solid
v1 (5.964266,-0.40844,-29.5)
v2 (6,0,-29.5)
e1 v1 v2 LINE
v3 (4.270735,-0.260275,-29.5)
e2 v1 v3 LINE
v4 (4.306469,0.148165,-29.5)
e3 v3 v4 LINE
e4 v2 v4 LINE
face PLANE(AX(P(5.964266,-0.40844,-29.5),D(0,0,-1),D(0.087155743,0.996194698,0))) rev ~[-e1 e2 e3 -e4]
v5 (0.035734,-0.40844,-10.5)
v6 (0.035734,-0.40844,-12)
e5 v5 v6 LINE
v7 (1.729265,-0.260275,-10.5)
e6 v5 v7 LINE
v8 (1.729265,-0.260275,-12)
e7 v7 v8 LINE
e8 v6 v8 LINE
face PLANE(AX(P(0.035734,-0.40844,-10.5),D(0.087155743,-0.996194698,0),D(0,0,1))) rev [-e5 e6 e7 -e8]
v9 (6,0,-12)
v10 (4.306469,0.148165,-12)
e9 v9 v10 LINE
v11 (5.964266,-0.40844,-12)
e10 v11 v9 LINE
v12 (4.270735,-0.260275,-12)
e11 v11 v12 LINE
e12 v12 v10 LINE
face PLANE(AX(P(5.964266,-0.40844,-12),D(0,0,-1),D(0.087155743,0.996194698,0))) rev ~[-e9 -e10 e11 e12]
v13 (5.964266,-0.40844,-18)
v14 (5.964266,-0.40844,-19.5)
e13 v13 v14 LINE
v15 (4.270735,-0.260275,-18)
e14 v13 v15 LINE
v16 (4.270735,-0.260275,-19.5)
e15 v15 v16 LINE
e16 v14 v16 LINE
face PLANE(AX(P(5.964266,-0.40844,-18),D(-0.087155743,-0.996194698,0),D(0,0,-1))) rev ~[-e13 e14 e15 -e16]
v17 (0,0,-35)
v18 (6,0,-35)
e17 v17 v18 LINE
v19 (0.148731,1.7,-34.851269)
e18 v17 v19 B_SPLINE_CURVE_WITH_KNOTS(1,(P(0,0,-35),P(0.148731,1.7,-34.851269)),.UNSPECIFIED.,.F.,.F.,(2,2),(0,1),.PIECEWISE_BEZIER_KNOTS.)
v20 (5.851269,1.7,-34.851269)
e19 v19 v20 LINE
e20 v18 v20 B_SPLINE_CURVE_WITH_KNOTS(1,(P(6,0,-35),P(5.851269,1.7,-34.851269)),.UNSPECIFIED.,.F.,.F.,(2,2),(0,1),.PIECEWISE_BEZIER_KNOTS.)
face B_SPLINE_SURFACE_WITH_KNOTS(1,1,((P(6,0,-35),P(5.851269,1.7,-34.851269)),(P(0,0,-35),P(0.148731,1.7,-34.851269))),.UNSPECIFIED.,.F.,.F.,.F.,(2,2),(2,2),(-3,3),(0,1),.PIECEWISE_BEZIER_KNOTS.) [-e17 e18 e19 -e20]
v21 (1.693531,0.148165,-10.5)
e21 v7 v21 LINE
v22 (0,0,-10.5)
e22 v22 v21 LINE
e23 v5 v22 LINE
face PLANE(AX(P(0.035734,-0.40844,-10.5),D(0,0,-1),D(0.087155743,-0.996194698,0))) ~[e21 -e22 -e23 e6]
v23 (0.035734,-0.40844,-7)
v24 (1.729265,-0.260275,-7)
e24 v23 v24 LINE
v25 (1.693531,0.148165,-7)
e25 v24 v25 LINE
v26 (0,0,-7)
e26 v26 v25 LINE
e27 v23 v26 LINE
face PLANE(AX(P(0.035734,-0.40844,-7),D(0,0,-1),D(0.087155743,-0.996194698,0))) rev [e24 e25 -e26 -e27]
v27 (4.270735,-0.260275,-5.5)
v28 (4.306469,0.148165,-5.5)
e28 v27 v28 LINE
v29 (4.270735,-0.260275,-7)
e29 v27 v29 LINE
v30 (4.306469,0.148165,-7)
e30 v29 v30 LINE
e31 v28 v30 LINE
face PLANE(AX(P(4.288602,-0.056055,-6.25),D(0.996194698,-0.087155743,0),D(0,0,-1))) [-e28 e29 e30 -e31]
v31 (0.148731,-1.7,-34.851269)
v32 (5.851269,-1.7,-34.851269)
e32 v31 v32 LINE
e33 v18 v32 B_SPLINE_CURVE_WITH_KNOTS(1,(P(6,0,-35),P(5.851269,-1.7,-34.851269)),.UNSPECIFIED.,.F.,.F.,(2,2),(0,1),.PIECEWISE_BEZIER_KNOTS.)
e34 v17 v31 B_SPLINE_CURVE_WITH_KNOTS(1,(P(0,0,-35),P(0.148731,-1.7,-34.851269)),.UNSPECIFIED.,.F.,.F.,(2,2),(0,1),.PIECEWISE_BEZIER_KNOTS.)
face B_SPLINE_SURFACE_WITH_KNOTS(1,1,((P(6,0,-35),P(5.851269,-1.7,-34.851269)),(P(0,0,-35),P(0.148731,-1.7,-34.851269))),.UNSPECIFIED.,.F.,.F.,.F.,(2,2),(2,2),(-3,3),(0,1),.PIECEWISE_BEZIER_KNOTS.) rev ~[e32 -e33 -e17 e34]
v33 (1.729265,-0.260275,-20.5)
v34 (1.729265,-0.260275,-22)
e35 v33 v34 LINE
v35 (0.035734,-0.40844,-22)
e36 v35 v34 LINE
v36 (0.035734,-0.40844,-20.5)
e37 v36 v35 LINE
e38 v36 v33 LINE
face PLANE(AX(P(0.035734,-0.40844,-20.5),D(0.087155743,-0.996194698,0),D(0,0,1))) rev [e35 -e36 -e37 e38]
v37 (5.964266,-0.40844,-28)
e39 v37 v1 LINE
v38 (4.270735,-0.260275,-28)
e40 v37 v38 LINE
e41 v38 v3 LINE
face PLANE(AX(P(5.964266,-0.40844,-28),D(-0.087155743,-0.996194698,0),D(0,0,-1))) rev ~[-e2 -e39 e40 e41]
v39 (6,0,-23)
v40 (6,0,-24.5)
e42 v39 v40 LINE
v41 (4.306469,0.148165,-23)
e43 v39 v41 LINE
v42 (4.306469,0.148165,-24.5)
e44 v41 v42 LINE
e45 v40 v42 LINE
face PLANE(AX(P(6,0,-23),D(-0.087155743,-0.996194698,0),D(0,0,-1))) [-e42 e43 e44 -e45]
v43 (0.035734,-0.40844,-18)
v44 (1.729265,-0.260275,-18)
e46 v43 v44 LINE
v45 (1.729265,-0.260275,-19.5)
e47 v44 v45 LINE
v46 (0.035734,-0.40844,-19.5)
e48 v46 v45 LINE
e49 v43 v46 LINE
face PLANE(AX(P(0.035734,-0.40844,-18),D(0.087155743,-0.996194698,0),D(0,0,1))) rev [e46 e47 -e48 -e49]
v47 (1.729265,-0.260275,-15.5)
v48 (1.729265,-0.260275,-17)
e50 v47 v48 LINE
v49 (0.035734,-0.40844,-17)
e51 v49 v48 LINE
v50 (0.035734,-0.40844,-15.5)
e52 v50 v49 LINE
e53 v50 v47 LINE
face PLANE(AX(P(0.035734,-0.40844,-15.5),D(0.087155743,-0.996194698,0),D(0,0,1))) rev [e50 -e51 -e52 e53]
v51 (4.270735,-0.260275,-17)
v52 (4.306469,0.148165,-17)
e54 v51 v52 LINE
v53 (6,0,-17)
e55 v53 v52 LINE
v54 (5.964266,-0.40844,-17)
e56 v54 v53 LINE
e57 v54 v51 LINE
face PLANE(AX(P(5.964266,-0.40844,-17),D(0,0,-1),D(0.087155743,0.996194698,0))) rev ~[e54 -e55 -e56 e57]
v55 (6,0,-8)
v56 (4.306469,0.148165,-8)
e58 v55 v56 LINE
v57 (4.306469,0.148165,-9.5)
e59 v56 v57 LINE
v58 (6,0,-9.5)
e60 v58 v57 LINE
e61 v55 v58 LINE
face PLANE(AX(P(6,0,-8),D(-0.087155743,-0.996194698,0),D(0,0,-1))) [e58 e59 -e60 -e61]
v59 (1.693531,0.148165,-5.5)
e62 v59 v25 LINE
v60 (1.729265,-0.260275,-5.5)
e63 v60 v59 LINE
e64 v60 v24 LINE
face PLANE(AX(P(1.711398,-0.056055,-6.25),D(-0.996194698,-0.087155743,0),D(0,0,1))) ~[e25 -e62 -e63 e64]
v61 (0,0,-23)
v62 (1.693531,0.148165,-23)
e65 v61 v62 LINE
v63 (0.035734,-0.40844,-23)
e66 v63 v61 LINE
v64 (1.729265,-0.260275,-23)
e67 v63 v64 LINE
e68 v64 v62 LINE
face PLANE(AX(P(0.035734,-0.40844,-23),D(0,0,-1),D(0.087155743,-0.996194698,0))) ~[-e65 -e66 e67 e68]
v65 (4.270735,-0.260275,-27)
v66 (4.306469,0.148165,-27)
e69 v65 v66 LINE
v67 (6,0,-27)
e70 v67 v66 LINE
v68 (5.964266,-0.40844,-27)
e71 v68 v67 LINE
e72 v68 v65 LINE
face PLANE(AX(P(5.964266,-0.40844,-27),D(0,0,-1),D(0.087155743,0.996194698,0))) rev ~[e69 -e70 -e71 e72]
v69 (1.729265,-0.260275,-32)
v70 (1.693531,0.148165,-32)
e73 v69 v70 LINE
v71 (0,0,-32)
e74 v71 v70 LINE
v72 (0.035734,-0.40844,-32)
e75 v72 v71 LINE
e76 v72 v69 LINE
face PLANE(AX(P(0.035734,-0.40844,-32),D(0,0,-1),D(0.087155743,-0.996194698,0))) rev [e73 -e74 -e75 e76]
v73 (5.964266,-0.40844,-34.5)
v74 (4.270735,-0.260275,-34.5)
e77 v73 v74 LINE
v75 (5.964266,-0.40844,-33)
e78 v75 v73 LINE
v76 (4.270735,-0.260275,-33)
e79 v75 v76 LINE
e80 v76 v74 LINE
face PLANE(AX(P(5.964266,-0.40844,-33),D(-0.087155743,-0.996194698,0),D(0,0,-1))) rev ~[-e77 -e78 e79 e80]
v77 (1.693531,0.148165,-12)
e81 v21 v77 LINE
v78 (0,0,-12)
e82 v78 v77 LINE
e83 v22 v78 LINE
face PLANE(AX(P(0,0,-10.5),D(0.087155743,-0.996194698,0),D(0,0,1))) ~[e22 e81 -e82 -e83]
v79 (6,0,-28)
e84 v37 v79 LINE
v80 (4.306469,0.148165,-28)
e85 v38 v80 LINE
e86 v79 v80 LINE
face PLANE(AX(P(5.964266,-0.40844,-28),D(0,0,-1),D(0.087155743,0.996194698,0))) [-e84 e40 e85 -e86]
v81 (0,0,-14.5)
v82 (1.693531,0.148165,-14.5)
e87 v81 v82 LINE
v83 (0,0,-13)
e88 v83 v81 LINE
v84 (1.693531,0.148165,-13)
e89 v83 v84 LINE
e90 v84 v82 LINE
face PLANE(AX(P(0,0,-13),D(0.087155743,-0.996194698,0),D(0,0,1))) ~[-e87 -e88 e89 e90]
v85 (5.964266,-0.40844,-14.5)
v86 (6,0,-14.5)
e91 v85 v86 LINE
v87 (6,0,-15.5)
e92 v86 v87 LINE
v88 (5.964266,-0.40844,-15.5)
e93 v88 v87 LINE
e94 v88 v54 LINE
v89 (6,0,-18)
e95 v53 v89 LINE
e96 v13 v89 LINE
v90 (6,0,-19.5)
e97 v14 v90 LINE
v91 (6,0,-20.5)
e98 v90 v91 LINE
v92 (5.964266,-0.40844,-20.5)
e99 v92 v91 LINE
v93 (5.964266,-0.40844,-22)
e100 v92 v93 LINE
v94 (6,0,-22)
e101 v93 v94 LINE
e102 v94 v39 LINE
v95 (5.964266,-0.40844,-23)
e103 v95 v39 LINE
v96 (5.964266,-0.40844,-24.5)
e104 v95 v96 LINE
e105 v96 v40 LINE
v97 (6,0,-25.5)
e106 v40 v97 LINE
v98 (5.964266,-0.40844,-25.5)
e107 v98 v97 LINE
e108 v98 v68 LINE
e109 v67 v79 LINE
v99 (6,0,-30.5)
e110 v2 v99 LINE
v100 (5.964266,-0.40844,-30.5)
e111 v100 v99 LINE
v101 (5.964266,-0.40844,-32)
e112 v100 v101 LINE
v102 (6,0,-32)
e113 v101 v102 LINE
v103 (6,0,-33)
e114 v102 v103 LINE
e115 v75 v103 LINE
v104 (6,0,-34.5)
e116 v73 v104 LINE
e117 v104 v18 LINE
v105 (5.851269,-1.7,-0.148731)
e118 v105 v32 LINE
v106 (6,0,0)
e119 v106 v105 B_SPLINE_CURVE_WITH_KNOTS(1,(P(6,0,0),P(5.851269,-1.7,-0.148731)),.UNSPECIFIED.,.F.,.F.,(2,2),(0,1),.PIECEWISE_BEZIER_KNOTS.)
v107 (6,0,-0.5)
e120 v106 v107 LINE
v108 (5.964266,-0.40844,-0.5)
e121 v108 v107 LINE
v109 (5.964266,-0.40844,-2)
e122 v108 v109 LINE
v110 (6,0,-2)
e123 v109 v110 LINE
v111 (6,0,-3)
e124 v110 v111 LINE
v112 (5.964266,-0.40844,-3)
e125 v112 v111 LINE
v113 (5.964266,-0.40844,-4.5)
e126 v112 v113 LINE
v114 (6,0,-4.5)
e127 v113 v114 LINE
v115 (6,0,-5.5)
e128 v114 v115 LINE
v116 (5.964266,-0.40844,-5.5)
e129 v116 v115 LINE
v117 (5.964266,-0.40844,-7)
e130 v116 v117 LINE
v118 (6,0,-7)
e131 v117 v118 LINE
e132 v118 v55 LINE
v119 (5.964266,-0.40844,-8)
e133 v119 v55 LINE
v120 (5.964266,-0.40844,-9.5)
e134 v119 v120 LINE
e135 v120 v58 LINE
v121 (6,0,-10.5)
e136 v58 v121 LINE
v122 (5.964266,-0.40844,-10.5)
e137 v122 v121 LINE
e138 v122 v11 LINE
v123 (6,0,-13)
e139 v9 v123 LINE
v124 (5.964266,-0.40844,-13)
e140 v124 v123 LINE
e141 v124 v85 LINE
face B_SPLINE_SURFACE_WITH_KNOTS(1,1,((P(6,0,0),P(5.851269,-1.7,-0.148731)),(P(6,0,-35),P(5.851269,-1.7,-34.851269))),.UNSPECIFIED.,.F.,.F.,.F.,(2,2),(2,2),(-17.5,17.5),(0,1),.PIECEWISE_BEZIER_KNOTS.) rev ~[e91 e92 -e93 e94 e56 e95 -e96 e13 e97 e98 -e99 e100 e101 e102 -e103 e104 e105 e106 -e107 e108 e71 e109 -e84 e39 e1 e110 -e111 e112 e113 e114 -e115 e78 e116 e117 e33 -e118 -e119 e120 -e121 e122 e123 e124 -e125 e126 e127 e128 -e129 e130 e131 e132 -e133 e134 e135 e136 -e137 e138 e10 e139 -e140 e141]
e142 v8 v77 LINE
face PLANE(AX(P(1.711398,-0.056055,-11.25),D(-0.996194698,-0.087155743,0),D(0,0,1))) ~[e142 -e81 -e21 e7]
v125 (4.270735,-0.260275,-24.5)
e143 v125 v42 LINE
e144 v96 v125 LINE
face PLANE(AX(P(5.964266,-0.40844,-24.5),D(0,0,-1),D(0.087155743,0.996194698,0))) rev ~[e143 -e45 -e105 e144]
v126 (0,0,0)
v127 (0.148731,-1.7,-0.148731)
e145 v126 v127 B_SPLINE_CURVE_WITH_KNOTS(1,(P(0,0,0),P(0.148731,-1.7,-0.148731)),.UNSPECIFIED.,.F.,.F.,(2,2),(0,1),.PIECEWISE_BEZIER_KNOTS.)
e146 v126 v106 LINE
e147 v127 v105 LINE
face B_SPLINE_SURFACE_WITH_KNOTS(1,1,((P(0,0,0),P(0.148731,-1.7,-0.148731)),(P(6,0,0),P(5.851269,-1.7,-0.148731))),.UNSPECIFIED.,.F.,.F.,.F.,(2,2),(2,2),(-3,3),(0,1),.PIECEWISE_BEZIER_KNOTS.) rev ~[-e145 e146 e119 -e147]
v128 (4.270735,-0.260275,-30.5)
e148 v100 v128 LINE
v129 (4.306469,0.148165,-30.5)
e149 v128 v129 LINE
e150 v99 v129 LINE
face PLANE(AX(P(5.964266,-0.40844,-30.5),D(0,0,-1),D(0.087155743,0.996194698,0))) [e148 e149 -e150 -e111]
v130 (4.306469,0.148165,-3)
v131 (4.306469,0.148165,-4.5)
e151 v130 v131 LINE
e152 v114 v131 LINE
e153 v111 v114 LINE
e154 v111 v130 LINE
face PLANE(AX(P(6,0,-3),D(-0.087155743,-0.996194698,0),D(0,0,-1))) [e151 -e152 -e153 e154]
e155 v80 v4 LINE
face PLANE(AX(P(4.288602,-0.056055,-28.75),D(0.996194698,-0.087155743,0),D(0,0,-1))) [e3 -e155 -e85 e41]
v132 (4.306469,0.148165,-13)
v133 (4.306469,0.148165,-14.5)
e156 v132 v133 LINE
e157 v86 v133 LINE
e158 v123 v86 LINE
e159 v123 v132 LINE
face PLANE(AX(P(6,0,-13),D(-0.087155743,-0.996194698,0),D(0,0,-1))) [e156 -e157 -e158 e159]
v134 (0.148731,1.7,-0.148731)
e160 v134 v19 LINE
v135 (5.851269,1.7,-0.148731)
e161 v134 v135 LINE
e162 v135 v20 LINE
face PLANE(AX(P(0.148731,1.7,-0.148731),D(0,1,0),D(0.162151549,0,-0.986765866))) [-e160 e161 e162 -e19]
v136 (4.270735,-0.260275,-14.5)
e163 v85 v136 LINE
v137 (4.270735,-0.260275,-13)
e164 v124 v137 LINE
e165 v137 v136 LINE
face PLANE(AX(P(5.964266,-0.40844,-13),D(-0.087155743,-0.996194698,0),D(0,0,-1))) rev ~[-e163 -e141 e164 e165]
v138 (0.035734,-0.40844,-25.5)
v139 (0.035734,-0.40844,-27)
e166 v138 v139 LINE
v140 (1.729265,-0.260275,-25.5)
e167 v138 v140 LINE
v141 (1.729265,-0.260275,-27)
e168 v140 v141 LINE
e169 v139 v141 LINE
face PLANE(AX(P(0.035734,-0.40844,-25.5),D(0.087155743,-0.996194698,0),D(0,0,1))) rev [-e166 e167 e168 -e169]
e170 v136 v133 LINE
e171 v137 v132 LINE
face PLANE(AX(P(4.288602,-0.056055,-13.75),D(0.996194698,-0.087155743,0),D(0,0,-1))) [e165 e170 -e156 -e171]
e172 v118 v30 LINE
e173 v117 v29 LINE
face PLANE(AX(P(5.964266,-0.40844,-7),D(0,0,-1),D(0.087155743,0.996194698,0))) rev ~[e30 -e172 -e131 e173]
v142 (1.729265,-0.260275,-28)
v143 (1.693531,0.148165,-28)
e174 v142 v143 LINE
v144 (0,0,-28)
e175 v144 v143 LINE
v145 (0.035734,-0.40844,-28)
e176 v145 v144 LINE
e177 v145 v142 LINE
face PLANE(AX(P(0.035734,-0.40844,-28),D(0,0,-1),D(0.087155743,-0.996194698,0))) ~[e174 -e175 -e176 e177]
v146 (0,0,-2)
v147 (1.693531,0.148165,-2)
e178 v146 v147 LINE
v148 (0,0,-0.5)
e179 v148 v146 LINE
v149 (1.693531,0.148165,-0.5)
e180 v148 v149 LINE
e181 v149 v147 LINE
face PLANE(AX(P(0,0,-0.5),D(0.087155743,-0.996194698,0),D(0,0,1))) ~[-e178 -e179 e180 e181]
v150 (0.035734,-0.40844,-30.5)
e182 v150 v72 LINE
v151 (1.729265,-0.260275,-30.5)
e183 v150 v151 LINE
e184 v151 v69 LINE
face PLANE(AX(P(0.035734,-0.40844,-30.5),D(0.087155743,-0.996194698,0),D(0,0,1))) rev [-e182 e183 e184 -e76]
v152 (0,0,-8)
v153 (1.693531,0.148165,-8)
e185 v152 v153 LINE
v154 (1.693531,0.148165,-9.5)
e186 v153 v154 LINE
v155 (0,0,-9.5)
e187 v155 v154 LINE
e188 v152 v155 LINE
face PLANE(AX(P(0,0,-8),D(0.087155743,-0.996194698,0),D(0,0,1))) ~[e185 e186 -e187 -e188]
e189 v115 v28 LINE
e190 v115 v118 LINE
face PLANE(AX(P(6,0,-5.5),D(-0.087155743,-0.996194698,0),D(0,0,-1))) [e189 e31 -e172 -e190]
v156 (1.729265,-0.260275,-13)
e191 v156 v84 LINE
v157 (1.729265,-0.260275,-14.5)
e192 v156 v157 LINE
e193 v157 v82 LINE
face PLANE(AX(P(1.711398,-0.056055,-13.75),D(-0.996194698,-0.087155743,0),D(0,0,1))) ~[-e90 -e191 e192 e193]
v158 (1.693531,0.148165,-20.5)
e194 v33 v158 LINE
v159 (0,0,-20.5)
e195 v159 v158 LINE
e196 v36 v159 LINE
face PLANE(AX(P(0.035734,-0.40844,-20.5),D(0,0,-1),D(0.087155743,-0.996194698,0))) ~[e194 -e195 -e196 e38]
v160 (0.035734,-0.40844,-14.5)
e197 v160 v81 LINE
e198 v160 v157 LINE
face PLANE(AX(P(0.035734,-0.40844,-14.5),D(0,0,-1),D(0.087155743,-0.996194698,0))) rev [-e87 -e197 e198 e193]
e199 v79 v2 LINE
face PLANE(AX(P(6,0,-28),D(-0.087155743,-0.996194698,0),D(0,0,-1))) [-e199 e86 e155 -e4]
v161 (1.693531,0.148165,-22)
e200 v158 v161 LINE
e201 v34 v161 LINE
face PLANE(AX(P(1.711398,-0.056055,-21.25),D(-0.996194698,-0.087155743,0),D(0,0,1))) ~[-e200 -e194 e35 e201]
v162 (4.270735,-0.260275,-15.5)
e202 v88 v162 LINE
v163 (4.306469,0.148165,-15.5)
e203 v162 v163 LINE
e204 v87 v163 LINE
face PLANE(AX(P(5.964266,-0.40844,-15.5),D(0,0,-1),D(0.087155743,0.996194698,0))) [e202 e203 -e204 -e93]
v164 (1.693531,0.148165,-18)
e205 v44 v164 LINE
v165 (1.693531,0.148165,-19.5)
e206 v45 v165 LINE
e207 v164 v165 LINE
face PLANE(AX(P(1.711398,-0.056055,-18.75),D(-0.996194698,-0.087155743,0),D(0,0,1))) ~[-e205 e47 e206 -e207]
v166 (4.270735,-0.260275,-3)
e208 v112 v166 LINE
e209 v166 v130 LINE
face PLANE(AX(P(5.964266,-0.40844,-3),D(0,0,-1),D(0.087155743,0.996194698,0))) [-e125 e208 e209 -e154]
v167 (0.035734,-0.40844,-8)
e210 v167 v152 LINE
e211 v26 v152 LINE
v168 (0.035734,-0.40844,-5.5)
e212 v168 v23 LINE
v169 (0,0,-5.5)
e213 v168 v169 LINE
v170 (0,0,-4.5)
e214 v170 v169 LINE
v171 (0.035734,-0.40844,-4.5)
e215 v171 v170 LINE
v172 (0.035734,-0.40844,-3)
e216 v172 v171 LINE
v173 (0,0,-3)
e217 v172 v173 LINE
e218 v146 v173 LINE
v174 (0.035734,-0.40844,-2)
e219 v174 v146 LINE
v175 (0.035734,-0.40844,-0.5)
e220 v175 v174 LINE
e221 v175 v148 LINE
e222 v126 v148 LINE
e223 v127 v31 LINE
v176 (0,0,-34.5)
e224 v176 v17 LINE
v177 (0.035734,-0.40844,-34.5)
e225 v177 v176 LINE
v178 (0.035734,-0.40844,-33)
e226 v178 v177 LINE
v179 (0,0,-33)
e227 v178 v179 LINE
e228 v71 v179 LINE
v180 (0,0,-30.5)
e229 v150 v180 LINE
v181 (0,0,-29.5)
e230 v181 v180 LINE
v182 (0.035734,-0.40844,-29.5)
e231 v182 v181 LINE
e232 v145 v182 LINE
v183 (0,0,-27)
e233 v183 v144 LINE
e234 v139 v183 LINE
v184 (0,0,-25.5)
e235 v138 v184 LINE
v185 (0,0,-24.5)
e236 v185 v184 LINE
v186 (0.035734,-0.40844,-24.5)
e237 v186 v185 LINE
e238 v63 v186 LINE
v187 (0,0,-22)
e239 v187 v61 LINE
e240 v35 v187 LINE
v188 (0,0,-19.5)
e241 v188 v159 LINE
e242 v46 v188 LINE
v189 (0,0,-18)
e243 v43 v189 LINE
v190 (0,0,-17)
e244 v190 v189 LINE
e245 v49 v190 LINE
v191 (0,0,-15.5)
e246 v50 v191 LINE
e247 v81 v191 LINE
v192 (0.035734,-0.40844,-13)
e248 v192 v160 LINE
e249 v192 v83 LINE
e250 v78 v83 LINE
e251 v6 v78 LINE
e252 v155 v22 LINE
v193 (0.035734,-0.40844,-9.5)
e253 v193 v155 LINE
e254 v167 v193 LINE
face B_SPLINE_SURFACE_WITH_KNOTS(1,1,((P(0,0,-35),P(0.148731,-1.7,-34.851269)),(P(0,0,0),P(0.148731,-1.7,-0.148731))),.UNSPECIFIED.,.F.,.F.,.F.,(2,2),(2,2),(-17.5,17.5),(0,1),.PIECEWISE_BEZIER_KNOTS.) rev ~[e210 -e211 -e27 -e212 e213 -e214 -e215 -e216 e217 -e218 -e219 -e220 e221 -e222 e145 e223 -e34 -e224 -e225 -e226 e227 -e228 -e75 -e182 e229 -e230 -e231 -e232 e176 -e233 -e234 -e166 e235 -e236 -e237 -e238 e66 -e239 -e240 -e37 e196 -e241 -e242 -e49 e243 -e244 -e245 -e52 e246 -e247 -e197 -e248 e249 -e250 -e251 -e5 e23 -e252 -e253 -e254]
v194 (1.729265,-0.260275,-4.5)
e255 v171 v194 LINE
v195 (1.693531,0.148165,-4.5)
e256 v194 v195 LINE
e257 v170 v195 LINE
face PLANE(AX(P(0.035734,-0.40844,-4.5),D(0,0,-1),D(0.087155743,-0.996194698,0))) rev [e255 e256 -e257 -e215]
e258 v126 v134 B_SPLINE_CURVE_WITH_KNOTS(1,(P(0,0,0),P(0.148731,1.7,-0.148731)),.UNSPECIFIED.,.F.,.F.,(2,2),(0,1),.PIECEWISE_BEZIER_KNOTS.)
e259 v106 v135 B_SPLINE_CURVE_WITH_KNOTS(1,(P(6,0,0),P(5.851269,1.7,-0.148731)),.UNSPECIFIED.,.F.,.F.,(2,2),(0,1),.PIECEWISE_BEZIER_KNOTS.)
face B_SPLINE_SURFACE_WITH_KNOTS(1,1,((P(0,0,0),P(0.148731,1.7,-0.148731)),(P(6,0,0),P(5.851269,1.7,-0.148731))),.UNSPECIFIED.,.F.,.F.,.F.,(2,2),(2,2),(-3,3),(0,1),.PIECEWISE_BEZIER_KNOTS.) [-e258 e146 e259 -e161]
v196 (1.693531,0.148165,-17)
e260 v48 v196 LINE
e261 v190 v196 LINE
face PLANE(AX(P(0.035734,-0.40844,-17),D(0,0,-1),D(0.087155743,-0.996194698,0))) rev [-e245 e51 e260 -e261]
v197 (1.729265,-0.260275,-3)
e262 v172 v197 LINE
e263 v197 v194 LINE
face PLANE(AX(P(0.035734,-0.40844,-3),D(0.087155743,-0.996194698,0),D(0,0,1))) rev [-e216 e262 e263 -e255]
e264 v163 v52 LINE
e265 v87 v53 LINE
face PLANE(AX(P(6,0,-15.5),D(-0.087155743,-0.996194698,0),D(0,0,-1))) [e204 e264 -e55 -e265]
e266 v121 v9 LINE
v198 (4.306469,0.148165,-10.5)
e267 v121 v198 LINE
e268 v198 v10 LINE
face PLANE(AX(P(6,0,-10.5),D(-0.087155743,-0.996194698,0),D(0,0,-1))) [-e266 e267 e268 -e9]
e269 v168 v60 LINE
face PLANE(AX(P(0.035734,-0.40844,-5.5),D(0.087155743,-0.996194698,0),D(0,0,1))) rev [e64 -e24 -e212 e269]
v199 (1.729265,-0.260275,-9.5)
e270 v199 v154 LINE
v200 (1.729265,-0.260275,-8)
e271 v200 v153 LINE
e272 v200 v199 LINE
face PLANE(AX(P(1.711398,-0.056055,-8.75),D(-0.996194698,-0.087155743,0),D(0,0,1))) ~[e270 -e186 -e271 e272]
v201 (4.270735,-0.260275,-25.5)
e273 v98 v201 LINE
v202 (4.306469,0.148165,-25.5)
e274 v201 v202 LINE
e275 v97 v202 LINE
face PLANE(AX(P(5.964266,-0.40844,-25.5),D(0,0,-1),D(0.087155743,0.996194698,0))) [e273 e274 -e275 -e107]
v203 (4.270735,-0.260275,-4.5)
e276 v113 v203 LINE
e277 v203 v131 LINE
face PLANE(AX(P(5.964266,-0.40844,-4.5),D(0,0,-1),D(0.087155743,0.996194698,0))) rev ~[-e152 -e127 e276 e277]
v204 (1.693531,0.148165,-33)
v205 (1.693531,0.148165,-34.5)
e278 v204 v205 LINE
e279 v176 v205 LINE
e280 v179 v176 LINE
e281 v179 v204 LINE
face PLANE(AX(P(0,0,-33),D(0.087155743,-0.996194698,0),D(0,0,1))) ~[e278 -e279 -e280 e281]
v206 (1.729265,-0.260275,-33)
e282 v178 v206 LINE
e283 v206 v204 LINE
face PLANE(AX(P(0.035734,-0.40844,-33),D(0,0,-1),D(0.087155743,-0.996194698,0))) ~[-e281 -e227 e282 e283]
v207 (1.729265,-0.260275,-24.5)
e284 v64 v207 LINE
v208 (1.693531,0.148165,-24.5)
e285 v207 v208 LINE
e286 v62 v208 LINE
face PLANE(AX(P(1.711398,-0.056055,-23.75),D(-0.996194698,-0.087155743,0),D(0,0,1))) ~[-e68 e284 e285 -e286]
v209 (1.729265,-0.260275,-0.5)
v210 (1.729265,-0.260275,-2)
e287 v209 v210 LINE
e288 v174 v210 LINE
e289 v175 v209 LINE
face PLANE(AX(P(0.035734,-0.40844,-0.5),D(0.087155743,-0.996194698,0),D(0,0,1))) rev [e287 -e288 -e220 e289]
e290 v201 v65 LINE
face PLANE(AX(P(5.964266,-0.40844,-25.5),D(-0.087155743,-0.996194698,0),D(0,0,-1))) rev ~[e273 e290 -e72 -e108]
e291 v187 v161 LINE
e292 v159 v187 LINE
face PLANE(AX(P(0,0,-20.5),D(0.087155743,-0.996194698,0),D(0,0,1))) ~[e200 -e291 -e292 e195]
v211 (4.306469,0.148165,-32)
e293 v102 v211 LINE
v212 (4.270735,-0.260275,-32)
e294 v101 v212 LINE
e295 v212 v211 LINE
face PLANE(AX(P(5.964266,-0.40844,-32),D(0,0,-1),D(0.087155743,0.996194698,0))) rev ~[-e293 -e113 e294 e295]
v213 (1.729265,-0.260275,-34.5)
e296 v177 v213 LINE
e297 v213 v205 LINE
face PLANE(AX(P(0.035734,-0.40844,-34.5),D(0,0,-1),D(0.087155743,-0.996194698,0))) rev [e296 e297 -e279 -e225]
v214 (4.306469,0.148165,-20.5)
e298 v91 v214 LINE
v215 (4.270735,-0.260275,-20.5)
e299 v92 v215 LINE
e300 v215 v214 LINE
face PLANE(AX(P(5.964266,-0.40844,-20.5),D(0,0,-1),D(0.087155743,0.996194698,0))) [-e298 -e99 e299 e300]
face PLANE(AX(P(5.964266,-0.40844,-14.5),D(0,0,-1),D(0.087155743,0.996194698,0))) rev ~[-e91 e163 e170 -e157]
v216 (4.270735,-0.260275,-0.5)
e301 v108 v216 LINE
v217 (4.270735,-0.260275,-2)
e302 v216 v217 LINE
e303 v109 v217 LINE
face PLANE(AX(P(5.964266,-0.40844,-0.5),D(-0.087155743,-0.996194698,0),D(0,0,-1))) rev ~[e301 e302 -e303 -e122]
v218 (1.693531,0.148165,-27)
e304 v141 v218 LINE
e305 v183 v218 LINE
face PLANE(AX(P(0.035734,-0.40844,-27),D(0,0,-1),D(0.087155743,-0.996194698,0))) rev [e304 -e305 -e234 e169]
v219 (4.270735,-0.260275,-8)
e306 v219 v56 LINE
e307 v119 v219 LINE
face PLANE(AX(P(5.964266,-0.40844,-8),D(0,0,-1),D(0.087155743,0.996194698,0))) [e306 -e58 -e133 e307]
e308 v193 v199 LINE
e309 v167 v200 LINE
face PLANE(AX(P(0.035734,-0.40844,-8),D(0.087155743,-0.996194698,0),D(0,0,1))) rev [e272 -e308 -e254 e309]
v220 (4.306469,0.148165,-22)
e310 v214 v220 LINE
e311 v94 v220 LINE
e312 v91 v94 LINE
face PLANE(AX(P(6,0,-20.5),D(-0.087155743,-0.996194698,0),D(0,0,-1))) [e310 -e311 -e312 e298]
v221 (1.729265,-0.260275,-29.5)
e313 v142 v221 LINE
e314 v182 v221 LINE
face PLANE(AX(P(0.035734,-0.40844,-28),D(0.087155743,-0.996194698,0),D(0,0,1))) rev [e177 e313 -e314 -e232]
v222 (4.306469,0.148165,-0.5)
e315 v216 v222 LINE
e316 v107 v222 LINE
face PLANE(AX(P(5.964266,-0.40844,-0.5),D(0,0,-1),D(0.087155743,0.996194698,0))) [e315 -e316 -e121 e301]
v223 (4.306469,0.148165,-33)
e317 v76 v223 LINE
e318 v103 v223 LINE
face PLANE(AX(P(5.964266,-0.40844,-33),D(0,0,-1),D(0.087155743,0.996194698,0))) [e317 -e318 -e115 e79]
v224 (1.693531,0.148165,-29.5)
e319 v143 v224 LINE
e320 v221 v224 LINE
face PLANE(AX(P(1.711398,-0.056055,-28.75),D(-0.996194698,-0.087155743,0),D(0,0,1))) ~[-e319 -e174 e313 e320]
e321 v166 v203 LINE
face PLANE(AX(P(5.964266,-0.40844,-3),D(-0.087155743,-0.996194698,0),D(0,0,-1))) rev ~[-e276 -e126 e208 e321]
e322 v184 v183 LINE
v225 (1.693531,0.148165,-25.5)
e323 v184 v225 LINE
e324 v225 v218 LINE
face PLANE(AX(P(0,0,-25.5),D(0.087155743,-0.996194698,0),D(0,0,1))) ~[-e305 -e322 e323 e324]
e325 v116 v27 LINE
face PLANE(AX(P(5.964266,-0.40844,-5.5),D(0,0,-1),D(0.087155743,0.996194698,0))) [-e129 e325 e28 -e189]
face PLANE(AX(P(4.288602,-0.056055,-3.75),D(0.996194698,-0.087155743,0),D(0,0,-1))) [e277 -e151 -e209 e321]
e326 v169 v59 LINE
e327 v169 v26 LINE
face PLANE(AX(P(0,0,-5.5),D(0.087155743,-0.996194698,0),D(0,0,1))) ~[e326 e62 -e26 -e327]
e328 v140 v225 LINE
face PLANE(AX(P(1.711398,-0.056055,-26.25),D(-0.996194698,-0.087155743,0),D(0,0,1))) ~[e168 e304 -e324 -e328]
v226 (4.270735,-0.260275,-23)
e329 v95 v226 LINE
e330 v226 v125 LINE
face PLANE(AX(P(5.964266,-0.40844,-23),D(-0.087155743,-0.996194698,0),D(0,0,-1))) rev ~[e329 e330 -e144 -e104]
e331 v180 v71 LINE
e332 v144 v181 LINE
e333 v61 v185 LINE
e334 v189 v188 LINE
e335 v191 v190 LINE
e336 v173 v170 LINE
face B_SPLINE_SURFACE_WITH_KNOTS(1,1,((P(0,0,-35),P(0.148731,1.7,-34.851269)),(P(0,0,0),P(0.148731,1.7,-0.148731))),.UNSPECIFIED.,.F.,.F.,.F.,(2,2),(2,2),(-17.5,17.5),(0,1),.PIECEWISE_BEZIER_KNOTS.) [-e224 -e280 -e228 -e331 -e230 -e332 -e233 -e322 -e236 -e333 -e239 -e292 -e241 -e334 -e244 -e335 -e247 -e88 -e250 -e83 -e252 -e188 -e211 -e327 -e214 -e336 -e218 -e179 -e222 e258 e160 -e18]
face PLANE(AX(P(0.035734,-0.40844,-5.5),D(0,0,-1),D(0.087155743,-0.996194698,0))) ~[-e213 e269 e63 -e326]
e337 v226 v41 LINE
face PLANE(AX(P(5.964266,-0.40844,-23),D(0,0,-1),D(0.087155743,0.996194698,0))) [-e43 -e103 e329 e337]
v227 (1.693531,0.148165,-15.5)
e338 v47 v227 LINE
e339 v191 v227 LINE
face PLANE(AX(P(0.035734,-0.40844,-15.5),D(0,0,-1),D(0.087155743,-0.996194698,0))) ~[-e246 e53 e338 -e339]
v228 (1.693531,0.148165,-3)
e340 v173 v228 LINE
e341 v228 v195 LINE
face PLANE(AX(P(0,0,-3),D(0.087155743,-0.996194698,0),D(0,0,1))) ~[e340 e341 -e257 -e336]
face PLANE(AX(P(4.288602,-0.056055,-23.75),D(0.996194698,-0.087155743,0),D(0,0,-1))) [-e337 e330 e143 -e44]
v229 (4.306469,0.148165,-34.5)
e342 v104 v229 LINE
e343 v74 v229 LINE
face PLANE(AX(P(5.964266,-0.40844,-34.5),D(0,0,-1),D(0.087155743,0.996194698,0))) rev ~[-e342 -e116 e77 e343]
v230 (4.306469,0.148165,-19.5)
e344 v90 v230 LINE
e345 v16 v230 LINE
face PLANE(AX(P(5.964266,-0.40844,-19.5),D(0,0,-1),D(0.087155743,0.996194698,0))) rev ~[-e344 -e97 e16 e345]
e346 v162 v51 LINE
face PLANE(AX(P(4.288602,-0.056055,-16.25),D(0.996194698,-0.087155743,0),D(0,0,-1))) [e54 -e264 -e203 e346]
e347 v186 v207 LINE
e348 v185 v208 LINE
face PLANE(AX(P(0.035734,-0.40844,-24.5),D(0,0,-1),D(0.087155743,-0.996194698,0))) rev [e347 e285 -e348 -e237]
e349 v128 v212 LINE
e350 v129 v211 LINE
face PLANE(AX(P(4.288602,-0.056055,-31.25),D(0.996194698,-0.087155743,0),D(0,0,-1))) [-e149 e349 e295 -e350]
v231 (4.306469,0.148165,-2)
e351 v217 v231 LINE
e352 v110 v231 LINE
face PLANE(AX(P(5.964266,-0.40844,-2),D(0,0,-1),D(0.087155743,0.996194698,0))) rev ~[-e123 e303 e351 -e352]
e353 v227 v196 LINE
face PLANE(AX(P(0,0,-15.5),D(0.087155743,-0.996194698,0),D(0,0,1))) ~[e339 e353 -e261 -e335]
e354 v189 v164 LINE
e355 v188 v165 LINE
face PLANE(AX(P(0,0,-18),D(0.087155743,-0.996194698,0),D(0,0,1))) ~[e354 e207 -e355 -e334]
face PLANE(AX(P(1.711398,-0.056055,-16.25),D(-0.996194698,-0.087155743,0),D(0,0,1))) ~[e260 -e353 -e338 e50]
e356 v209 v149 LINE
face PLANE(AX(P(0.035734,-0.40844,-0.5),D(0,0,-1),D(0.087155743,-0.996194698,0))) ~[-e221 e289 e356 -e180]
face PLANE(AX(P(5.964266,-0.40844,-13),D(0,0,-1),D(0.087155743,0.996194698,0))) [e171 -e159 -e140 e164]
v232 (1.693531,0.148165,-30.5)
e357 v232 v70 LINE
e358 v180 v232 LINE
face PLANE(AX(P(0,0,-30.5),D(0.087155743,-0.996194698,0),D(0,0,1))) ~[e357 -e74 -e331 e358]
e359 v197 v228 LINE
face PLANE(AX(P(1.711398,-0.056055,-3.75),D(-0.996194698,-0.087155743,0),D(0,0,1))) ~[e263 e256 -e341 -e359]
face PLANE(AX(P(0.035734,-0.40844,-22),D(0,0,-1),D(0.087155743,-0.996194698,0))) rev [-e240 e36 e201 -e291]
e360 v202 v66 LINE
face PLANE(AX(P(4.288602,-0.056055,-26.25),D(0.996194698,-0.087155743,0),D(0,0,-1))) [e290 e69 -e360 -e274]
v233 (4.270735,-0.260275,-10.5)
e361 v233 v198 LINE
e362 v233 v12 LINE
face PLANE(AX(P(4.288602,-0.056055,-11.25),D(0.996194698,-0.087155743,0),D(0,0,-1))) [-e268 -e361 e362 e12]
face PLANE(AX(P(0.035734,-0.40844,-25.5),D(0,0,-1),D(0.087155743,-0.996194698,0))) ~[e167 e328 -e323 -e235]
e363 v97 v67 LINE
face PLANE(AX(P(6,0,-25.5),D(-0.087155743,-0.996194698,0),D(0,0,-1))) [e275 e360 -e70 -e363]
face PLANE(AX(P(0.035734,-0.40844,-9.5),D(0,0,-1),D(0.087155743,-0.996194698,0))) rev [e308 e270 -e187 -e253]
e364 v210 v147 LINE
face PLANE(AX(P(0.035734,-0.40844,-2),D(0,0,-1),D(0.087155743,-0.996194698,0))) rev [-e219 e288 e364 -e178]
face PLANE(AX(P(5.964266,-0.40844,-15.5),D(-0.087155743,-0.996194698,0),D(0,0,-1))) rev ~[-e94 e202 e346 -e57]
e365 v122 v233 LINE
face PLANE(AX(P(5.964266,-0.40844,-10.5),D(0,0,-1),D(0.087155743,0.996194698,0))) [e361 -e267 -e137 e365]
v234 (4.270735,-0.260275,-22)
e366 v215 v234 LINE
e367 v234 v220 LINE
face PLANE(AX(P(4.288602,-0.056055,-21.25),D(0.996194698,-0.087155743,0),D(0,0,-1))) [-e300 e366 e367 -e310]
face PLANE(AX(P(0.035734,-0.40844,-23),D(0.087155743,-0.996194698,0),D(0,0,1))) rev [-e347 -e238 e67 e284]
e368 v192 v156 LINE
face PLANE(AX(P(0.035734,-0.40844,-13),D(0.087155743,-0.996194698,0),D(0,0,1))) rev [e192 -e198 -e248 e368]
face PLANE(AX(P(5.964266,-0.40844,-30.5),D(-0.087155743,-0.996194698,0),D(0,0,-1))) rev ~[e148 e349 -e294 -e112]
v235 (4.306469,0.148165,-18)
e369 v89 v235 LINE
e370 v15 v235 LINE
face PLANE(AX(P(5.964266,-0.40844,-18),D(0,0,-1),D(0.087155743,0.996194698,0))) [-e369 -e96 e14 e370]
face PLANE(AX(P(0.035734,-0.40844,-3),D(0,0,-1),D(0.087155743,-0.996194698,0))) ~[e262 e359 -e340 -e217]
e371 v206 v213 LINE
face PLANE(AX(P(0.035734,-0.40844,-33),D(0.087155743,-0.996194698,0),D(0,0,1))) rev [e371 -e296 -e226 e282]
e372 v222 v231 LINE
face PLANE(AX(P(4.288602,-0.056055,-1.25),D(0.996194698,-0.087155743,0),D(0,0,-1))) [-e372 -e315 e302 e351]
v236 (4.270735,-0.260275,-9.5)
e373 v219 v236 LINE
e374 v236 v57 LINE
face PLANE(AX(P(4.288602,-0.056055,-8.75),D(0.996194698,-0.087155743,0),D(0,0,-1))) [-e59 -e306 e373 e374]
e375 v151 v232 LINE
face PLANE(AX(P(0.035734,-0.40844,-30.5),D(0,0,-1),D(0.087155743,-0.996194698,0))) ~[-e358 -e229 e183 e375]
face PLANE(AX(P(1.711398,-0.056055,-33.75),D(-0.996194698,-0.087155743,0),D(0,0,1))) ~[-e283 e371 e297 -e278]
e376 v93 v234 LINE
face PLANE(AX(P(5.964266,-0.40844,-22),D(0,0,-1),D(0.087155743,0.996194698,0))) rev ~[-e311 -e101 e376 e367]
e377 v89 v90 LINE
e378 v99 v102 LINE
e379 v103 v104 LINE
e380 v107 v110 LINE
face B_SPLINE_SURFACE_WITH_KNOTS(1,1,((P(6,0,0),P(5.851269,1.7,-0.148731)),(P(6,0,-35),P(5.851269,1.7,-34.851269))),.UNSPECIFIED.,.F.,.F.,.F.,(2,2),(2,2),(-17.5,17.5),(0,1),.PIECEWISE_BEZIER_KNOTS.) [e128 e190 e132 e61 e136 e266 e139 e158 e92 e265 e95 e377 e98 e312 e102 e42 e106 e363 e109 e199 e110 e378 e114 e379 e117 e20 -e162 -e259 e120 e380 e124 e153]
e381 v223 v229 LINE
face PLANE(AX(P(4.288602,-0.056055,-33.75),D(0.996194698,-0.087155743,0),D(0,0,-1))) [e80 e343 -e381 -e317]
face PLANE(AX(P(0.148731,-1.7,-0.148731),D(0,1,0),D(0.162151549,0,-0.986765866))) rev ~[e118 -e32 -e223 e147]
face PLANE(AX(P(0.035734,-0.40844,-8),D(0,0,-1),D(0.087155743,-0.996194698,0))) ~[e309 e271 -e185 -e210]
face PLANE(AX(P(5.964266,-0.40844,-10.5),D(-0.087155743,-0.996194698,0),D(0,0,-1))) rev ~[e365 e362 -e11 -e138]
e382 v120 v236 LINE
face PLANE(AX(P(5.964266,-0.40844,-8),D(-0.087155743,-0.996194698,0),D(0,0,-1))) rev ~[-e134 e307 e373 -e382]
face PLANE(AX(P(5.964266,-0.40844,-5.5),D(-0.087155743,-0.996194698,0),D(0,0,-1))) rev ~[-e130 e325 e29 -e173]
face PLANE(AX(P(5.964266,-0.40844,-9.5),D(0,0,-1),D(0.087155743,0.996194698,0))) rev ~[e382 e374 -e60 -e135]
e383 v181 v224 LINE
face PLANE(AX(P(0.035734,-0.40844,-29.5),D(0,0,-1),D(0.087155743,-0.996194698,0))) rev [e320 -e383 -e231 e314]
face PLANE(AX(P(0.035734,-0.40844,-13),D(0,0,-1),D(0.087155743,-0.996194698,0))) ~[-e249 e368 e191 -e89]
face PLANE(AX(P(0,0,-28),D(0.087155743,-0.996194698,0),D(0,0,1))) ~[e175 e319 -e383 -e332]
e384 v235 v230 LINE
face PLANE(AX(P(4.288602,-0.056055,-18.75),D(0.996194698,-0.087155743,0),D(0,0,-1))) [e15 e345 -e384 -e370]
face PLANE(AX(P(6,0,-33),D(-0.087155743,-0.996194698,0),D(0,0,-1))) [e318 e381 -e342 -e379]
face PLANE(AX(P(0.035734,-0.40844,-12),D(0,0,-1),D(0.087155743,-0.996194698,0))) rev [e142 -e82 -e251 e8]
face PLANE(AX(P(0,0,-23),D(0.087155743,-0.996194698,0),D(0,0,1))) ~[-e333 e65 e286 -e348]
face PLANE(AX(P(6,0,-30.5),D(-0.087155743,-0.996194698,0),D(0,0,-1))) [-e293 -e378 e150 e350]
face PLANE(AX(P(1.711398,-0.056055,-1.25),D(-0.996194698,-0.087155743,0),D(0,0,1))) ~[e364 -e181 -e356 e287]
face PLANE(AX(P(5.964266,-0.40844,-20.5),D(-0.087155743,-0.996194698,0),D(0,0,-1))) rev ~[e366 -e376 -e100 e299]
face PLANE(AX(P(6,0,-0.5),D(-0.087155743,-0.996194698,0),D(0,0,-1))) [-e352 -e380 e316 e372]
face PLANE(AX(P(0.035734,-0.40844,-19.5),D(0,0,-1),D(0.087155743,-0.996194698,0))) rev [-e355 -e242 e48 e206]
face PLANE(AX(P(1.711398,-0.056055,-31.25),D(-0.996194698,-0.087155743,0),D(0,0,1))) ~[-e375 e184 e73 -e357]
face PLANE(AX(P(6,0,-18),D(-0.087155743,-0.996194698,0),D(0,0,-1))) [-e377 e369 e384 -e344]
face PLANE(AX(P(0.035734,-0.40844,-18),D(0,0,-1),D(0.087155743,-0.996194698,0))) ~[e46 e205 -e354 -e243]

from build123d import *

# Parameters (mm, degrees)
SKETCH1_W                     = 6
SKETCH1_H                     = 35
BOSS_EXTRUDE1_DEPTH           = 1.7
BOSS_EXTRUDE1_TAPER           = 5
BOSS_EXTRUDE1_OTHER_WAY_DEPTH = 1.7
BOSS_EXTRUDE1_OTHER_WAY_TAPER = 5
SKETCH2_W                     = 1.5
SKETCH2_H                     = 0.41
CUT_EXTRUDE1_DEPTH            = 1.7


with BuildPart() as part:
    # Sketch1 → Boss-Extrude1 (new body)
    with BuildSketch(Plane(origin=(0, 0, 0), x_dir=(1, 0, 0), z_dir=(0, 1, 0))):
        with Locations((3, 17.5)):
            Rectangle(SKETCH1_W, SKETCH1_H)
    extrude(amount=BOSS_EXTRUDE1_DEPTH, taper=BOSS_EXTRUDE1_TAPER)

    # Sketch1 → Boss-Extrude1 other way (add)
    with BuildSketch(Plane(origin=(0, 0, 0), x_dir=(1, 0, 0), z_dir=(0, 1, 0))):
        with Locations((3, 17.5)):
            Rectangle(SKETCH1_W, SKETCH1_H)
    extrude(amount=-BOSS_EXTRUDE1_OTHER_WAY_DEPTH, taper=BOSS_EXTRUDE1_OTHER_WAY_TAPER)

    # Sketch2 → Cut-Extrude1 (cut)
    with BuildSketch(Plane(origin=(5.954423259, -0.520944533, 0), x_dir=(0, 0, -1), z_dir=(0.996194698, -0.087155743, 0))):
        with Locations((1.25, 0.317934456)):
            Rectangle(SKETCH2_W, SKETCH2_H)
        with Locations((3.75, 0.317934456)):
            Rectangle(SKETCH2_W, SKETCH2_H)
        with Locations((6.25, 0.317934456)):
            Rectangle(SKETCH2_W, SKETCH2_H)
        with Locations((8.75, 0.317934456)):
            Rectangle(SKETCH2_W, SKETCH2_H)
        with Locations((11.25, 0.317934456)):
            Rectangle(SKETCH2_W, SKETCH2_H)
        with Locations((13.75, 0.317934456)):
            Rectangle(SKETCH2_W, SKETCH2_H)
        with Locations((16.25, 0.317934456)):
            Rectangle(SKETCH2_W, SKETCH2_H)
        with Locations((18.75, 0.317934456)):
            Rectangle(SKETCH2_W, SKETCH2_H)
        with Locations((21.25, 0.317934456)):
            Rectangle(SKETCH2_W, SKETCH2_H)
        with Locations((23.75, 0.317934456)):
            Rectangle(SKETCH2_W, SKETCH2_H)
        with Locations((26.25, 0.317934456)):
            Rectangle(SKETCH2_W, SKETCH2_H)
        with Locations((28.75, 0.317934456)):
            Rectangle(SKETCH2_W, SKETCH2_H)
        with Locations((31.25, 0.317934456)):
            Rectangle(SKETCH2_W, SKETCH2_H)
        with Locations((33.75, 0.317934456)):
            Rectangle(SKETCH2_W, SKETCH2_H)
    cut_extrude1 = extrude(amount=-CUT_EXTRUDE1_DEPTH, mode=Mode.SUBTRACT)

    # Mirror1: Cut-Extrude1 across plane
    add(cut_extrude1.mirror(Plane(origin=(3, 0, 0), x_dir=(0, 0, 1), z_dir=(1, 0, 0))), mode=Mode.SUBTRACT)


solid = part.part
